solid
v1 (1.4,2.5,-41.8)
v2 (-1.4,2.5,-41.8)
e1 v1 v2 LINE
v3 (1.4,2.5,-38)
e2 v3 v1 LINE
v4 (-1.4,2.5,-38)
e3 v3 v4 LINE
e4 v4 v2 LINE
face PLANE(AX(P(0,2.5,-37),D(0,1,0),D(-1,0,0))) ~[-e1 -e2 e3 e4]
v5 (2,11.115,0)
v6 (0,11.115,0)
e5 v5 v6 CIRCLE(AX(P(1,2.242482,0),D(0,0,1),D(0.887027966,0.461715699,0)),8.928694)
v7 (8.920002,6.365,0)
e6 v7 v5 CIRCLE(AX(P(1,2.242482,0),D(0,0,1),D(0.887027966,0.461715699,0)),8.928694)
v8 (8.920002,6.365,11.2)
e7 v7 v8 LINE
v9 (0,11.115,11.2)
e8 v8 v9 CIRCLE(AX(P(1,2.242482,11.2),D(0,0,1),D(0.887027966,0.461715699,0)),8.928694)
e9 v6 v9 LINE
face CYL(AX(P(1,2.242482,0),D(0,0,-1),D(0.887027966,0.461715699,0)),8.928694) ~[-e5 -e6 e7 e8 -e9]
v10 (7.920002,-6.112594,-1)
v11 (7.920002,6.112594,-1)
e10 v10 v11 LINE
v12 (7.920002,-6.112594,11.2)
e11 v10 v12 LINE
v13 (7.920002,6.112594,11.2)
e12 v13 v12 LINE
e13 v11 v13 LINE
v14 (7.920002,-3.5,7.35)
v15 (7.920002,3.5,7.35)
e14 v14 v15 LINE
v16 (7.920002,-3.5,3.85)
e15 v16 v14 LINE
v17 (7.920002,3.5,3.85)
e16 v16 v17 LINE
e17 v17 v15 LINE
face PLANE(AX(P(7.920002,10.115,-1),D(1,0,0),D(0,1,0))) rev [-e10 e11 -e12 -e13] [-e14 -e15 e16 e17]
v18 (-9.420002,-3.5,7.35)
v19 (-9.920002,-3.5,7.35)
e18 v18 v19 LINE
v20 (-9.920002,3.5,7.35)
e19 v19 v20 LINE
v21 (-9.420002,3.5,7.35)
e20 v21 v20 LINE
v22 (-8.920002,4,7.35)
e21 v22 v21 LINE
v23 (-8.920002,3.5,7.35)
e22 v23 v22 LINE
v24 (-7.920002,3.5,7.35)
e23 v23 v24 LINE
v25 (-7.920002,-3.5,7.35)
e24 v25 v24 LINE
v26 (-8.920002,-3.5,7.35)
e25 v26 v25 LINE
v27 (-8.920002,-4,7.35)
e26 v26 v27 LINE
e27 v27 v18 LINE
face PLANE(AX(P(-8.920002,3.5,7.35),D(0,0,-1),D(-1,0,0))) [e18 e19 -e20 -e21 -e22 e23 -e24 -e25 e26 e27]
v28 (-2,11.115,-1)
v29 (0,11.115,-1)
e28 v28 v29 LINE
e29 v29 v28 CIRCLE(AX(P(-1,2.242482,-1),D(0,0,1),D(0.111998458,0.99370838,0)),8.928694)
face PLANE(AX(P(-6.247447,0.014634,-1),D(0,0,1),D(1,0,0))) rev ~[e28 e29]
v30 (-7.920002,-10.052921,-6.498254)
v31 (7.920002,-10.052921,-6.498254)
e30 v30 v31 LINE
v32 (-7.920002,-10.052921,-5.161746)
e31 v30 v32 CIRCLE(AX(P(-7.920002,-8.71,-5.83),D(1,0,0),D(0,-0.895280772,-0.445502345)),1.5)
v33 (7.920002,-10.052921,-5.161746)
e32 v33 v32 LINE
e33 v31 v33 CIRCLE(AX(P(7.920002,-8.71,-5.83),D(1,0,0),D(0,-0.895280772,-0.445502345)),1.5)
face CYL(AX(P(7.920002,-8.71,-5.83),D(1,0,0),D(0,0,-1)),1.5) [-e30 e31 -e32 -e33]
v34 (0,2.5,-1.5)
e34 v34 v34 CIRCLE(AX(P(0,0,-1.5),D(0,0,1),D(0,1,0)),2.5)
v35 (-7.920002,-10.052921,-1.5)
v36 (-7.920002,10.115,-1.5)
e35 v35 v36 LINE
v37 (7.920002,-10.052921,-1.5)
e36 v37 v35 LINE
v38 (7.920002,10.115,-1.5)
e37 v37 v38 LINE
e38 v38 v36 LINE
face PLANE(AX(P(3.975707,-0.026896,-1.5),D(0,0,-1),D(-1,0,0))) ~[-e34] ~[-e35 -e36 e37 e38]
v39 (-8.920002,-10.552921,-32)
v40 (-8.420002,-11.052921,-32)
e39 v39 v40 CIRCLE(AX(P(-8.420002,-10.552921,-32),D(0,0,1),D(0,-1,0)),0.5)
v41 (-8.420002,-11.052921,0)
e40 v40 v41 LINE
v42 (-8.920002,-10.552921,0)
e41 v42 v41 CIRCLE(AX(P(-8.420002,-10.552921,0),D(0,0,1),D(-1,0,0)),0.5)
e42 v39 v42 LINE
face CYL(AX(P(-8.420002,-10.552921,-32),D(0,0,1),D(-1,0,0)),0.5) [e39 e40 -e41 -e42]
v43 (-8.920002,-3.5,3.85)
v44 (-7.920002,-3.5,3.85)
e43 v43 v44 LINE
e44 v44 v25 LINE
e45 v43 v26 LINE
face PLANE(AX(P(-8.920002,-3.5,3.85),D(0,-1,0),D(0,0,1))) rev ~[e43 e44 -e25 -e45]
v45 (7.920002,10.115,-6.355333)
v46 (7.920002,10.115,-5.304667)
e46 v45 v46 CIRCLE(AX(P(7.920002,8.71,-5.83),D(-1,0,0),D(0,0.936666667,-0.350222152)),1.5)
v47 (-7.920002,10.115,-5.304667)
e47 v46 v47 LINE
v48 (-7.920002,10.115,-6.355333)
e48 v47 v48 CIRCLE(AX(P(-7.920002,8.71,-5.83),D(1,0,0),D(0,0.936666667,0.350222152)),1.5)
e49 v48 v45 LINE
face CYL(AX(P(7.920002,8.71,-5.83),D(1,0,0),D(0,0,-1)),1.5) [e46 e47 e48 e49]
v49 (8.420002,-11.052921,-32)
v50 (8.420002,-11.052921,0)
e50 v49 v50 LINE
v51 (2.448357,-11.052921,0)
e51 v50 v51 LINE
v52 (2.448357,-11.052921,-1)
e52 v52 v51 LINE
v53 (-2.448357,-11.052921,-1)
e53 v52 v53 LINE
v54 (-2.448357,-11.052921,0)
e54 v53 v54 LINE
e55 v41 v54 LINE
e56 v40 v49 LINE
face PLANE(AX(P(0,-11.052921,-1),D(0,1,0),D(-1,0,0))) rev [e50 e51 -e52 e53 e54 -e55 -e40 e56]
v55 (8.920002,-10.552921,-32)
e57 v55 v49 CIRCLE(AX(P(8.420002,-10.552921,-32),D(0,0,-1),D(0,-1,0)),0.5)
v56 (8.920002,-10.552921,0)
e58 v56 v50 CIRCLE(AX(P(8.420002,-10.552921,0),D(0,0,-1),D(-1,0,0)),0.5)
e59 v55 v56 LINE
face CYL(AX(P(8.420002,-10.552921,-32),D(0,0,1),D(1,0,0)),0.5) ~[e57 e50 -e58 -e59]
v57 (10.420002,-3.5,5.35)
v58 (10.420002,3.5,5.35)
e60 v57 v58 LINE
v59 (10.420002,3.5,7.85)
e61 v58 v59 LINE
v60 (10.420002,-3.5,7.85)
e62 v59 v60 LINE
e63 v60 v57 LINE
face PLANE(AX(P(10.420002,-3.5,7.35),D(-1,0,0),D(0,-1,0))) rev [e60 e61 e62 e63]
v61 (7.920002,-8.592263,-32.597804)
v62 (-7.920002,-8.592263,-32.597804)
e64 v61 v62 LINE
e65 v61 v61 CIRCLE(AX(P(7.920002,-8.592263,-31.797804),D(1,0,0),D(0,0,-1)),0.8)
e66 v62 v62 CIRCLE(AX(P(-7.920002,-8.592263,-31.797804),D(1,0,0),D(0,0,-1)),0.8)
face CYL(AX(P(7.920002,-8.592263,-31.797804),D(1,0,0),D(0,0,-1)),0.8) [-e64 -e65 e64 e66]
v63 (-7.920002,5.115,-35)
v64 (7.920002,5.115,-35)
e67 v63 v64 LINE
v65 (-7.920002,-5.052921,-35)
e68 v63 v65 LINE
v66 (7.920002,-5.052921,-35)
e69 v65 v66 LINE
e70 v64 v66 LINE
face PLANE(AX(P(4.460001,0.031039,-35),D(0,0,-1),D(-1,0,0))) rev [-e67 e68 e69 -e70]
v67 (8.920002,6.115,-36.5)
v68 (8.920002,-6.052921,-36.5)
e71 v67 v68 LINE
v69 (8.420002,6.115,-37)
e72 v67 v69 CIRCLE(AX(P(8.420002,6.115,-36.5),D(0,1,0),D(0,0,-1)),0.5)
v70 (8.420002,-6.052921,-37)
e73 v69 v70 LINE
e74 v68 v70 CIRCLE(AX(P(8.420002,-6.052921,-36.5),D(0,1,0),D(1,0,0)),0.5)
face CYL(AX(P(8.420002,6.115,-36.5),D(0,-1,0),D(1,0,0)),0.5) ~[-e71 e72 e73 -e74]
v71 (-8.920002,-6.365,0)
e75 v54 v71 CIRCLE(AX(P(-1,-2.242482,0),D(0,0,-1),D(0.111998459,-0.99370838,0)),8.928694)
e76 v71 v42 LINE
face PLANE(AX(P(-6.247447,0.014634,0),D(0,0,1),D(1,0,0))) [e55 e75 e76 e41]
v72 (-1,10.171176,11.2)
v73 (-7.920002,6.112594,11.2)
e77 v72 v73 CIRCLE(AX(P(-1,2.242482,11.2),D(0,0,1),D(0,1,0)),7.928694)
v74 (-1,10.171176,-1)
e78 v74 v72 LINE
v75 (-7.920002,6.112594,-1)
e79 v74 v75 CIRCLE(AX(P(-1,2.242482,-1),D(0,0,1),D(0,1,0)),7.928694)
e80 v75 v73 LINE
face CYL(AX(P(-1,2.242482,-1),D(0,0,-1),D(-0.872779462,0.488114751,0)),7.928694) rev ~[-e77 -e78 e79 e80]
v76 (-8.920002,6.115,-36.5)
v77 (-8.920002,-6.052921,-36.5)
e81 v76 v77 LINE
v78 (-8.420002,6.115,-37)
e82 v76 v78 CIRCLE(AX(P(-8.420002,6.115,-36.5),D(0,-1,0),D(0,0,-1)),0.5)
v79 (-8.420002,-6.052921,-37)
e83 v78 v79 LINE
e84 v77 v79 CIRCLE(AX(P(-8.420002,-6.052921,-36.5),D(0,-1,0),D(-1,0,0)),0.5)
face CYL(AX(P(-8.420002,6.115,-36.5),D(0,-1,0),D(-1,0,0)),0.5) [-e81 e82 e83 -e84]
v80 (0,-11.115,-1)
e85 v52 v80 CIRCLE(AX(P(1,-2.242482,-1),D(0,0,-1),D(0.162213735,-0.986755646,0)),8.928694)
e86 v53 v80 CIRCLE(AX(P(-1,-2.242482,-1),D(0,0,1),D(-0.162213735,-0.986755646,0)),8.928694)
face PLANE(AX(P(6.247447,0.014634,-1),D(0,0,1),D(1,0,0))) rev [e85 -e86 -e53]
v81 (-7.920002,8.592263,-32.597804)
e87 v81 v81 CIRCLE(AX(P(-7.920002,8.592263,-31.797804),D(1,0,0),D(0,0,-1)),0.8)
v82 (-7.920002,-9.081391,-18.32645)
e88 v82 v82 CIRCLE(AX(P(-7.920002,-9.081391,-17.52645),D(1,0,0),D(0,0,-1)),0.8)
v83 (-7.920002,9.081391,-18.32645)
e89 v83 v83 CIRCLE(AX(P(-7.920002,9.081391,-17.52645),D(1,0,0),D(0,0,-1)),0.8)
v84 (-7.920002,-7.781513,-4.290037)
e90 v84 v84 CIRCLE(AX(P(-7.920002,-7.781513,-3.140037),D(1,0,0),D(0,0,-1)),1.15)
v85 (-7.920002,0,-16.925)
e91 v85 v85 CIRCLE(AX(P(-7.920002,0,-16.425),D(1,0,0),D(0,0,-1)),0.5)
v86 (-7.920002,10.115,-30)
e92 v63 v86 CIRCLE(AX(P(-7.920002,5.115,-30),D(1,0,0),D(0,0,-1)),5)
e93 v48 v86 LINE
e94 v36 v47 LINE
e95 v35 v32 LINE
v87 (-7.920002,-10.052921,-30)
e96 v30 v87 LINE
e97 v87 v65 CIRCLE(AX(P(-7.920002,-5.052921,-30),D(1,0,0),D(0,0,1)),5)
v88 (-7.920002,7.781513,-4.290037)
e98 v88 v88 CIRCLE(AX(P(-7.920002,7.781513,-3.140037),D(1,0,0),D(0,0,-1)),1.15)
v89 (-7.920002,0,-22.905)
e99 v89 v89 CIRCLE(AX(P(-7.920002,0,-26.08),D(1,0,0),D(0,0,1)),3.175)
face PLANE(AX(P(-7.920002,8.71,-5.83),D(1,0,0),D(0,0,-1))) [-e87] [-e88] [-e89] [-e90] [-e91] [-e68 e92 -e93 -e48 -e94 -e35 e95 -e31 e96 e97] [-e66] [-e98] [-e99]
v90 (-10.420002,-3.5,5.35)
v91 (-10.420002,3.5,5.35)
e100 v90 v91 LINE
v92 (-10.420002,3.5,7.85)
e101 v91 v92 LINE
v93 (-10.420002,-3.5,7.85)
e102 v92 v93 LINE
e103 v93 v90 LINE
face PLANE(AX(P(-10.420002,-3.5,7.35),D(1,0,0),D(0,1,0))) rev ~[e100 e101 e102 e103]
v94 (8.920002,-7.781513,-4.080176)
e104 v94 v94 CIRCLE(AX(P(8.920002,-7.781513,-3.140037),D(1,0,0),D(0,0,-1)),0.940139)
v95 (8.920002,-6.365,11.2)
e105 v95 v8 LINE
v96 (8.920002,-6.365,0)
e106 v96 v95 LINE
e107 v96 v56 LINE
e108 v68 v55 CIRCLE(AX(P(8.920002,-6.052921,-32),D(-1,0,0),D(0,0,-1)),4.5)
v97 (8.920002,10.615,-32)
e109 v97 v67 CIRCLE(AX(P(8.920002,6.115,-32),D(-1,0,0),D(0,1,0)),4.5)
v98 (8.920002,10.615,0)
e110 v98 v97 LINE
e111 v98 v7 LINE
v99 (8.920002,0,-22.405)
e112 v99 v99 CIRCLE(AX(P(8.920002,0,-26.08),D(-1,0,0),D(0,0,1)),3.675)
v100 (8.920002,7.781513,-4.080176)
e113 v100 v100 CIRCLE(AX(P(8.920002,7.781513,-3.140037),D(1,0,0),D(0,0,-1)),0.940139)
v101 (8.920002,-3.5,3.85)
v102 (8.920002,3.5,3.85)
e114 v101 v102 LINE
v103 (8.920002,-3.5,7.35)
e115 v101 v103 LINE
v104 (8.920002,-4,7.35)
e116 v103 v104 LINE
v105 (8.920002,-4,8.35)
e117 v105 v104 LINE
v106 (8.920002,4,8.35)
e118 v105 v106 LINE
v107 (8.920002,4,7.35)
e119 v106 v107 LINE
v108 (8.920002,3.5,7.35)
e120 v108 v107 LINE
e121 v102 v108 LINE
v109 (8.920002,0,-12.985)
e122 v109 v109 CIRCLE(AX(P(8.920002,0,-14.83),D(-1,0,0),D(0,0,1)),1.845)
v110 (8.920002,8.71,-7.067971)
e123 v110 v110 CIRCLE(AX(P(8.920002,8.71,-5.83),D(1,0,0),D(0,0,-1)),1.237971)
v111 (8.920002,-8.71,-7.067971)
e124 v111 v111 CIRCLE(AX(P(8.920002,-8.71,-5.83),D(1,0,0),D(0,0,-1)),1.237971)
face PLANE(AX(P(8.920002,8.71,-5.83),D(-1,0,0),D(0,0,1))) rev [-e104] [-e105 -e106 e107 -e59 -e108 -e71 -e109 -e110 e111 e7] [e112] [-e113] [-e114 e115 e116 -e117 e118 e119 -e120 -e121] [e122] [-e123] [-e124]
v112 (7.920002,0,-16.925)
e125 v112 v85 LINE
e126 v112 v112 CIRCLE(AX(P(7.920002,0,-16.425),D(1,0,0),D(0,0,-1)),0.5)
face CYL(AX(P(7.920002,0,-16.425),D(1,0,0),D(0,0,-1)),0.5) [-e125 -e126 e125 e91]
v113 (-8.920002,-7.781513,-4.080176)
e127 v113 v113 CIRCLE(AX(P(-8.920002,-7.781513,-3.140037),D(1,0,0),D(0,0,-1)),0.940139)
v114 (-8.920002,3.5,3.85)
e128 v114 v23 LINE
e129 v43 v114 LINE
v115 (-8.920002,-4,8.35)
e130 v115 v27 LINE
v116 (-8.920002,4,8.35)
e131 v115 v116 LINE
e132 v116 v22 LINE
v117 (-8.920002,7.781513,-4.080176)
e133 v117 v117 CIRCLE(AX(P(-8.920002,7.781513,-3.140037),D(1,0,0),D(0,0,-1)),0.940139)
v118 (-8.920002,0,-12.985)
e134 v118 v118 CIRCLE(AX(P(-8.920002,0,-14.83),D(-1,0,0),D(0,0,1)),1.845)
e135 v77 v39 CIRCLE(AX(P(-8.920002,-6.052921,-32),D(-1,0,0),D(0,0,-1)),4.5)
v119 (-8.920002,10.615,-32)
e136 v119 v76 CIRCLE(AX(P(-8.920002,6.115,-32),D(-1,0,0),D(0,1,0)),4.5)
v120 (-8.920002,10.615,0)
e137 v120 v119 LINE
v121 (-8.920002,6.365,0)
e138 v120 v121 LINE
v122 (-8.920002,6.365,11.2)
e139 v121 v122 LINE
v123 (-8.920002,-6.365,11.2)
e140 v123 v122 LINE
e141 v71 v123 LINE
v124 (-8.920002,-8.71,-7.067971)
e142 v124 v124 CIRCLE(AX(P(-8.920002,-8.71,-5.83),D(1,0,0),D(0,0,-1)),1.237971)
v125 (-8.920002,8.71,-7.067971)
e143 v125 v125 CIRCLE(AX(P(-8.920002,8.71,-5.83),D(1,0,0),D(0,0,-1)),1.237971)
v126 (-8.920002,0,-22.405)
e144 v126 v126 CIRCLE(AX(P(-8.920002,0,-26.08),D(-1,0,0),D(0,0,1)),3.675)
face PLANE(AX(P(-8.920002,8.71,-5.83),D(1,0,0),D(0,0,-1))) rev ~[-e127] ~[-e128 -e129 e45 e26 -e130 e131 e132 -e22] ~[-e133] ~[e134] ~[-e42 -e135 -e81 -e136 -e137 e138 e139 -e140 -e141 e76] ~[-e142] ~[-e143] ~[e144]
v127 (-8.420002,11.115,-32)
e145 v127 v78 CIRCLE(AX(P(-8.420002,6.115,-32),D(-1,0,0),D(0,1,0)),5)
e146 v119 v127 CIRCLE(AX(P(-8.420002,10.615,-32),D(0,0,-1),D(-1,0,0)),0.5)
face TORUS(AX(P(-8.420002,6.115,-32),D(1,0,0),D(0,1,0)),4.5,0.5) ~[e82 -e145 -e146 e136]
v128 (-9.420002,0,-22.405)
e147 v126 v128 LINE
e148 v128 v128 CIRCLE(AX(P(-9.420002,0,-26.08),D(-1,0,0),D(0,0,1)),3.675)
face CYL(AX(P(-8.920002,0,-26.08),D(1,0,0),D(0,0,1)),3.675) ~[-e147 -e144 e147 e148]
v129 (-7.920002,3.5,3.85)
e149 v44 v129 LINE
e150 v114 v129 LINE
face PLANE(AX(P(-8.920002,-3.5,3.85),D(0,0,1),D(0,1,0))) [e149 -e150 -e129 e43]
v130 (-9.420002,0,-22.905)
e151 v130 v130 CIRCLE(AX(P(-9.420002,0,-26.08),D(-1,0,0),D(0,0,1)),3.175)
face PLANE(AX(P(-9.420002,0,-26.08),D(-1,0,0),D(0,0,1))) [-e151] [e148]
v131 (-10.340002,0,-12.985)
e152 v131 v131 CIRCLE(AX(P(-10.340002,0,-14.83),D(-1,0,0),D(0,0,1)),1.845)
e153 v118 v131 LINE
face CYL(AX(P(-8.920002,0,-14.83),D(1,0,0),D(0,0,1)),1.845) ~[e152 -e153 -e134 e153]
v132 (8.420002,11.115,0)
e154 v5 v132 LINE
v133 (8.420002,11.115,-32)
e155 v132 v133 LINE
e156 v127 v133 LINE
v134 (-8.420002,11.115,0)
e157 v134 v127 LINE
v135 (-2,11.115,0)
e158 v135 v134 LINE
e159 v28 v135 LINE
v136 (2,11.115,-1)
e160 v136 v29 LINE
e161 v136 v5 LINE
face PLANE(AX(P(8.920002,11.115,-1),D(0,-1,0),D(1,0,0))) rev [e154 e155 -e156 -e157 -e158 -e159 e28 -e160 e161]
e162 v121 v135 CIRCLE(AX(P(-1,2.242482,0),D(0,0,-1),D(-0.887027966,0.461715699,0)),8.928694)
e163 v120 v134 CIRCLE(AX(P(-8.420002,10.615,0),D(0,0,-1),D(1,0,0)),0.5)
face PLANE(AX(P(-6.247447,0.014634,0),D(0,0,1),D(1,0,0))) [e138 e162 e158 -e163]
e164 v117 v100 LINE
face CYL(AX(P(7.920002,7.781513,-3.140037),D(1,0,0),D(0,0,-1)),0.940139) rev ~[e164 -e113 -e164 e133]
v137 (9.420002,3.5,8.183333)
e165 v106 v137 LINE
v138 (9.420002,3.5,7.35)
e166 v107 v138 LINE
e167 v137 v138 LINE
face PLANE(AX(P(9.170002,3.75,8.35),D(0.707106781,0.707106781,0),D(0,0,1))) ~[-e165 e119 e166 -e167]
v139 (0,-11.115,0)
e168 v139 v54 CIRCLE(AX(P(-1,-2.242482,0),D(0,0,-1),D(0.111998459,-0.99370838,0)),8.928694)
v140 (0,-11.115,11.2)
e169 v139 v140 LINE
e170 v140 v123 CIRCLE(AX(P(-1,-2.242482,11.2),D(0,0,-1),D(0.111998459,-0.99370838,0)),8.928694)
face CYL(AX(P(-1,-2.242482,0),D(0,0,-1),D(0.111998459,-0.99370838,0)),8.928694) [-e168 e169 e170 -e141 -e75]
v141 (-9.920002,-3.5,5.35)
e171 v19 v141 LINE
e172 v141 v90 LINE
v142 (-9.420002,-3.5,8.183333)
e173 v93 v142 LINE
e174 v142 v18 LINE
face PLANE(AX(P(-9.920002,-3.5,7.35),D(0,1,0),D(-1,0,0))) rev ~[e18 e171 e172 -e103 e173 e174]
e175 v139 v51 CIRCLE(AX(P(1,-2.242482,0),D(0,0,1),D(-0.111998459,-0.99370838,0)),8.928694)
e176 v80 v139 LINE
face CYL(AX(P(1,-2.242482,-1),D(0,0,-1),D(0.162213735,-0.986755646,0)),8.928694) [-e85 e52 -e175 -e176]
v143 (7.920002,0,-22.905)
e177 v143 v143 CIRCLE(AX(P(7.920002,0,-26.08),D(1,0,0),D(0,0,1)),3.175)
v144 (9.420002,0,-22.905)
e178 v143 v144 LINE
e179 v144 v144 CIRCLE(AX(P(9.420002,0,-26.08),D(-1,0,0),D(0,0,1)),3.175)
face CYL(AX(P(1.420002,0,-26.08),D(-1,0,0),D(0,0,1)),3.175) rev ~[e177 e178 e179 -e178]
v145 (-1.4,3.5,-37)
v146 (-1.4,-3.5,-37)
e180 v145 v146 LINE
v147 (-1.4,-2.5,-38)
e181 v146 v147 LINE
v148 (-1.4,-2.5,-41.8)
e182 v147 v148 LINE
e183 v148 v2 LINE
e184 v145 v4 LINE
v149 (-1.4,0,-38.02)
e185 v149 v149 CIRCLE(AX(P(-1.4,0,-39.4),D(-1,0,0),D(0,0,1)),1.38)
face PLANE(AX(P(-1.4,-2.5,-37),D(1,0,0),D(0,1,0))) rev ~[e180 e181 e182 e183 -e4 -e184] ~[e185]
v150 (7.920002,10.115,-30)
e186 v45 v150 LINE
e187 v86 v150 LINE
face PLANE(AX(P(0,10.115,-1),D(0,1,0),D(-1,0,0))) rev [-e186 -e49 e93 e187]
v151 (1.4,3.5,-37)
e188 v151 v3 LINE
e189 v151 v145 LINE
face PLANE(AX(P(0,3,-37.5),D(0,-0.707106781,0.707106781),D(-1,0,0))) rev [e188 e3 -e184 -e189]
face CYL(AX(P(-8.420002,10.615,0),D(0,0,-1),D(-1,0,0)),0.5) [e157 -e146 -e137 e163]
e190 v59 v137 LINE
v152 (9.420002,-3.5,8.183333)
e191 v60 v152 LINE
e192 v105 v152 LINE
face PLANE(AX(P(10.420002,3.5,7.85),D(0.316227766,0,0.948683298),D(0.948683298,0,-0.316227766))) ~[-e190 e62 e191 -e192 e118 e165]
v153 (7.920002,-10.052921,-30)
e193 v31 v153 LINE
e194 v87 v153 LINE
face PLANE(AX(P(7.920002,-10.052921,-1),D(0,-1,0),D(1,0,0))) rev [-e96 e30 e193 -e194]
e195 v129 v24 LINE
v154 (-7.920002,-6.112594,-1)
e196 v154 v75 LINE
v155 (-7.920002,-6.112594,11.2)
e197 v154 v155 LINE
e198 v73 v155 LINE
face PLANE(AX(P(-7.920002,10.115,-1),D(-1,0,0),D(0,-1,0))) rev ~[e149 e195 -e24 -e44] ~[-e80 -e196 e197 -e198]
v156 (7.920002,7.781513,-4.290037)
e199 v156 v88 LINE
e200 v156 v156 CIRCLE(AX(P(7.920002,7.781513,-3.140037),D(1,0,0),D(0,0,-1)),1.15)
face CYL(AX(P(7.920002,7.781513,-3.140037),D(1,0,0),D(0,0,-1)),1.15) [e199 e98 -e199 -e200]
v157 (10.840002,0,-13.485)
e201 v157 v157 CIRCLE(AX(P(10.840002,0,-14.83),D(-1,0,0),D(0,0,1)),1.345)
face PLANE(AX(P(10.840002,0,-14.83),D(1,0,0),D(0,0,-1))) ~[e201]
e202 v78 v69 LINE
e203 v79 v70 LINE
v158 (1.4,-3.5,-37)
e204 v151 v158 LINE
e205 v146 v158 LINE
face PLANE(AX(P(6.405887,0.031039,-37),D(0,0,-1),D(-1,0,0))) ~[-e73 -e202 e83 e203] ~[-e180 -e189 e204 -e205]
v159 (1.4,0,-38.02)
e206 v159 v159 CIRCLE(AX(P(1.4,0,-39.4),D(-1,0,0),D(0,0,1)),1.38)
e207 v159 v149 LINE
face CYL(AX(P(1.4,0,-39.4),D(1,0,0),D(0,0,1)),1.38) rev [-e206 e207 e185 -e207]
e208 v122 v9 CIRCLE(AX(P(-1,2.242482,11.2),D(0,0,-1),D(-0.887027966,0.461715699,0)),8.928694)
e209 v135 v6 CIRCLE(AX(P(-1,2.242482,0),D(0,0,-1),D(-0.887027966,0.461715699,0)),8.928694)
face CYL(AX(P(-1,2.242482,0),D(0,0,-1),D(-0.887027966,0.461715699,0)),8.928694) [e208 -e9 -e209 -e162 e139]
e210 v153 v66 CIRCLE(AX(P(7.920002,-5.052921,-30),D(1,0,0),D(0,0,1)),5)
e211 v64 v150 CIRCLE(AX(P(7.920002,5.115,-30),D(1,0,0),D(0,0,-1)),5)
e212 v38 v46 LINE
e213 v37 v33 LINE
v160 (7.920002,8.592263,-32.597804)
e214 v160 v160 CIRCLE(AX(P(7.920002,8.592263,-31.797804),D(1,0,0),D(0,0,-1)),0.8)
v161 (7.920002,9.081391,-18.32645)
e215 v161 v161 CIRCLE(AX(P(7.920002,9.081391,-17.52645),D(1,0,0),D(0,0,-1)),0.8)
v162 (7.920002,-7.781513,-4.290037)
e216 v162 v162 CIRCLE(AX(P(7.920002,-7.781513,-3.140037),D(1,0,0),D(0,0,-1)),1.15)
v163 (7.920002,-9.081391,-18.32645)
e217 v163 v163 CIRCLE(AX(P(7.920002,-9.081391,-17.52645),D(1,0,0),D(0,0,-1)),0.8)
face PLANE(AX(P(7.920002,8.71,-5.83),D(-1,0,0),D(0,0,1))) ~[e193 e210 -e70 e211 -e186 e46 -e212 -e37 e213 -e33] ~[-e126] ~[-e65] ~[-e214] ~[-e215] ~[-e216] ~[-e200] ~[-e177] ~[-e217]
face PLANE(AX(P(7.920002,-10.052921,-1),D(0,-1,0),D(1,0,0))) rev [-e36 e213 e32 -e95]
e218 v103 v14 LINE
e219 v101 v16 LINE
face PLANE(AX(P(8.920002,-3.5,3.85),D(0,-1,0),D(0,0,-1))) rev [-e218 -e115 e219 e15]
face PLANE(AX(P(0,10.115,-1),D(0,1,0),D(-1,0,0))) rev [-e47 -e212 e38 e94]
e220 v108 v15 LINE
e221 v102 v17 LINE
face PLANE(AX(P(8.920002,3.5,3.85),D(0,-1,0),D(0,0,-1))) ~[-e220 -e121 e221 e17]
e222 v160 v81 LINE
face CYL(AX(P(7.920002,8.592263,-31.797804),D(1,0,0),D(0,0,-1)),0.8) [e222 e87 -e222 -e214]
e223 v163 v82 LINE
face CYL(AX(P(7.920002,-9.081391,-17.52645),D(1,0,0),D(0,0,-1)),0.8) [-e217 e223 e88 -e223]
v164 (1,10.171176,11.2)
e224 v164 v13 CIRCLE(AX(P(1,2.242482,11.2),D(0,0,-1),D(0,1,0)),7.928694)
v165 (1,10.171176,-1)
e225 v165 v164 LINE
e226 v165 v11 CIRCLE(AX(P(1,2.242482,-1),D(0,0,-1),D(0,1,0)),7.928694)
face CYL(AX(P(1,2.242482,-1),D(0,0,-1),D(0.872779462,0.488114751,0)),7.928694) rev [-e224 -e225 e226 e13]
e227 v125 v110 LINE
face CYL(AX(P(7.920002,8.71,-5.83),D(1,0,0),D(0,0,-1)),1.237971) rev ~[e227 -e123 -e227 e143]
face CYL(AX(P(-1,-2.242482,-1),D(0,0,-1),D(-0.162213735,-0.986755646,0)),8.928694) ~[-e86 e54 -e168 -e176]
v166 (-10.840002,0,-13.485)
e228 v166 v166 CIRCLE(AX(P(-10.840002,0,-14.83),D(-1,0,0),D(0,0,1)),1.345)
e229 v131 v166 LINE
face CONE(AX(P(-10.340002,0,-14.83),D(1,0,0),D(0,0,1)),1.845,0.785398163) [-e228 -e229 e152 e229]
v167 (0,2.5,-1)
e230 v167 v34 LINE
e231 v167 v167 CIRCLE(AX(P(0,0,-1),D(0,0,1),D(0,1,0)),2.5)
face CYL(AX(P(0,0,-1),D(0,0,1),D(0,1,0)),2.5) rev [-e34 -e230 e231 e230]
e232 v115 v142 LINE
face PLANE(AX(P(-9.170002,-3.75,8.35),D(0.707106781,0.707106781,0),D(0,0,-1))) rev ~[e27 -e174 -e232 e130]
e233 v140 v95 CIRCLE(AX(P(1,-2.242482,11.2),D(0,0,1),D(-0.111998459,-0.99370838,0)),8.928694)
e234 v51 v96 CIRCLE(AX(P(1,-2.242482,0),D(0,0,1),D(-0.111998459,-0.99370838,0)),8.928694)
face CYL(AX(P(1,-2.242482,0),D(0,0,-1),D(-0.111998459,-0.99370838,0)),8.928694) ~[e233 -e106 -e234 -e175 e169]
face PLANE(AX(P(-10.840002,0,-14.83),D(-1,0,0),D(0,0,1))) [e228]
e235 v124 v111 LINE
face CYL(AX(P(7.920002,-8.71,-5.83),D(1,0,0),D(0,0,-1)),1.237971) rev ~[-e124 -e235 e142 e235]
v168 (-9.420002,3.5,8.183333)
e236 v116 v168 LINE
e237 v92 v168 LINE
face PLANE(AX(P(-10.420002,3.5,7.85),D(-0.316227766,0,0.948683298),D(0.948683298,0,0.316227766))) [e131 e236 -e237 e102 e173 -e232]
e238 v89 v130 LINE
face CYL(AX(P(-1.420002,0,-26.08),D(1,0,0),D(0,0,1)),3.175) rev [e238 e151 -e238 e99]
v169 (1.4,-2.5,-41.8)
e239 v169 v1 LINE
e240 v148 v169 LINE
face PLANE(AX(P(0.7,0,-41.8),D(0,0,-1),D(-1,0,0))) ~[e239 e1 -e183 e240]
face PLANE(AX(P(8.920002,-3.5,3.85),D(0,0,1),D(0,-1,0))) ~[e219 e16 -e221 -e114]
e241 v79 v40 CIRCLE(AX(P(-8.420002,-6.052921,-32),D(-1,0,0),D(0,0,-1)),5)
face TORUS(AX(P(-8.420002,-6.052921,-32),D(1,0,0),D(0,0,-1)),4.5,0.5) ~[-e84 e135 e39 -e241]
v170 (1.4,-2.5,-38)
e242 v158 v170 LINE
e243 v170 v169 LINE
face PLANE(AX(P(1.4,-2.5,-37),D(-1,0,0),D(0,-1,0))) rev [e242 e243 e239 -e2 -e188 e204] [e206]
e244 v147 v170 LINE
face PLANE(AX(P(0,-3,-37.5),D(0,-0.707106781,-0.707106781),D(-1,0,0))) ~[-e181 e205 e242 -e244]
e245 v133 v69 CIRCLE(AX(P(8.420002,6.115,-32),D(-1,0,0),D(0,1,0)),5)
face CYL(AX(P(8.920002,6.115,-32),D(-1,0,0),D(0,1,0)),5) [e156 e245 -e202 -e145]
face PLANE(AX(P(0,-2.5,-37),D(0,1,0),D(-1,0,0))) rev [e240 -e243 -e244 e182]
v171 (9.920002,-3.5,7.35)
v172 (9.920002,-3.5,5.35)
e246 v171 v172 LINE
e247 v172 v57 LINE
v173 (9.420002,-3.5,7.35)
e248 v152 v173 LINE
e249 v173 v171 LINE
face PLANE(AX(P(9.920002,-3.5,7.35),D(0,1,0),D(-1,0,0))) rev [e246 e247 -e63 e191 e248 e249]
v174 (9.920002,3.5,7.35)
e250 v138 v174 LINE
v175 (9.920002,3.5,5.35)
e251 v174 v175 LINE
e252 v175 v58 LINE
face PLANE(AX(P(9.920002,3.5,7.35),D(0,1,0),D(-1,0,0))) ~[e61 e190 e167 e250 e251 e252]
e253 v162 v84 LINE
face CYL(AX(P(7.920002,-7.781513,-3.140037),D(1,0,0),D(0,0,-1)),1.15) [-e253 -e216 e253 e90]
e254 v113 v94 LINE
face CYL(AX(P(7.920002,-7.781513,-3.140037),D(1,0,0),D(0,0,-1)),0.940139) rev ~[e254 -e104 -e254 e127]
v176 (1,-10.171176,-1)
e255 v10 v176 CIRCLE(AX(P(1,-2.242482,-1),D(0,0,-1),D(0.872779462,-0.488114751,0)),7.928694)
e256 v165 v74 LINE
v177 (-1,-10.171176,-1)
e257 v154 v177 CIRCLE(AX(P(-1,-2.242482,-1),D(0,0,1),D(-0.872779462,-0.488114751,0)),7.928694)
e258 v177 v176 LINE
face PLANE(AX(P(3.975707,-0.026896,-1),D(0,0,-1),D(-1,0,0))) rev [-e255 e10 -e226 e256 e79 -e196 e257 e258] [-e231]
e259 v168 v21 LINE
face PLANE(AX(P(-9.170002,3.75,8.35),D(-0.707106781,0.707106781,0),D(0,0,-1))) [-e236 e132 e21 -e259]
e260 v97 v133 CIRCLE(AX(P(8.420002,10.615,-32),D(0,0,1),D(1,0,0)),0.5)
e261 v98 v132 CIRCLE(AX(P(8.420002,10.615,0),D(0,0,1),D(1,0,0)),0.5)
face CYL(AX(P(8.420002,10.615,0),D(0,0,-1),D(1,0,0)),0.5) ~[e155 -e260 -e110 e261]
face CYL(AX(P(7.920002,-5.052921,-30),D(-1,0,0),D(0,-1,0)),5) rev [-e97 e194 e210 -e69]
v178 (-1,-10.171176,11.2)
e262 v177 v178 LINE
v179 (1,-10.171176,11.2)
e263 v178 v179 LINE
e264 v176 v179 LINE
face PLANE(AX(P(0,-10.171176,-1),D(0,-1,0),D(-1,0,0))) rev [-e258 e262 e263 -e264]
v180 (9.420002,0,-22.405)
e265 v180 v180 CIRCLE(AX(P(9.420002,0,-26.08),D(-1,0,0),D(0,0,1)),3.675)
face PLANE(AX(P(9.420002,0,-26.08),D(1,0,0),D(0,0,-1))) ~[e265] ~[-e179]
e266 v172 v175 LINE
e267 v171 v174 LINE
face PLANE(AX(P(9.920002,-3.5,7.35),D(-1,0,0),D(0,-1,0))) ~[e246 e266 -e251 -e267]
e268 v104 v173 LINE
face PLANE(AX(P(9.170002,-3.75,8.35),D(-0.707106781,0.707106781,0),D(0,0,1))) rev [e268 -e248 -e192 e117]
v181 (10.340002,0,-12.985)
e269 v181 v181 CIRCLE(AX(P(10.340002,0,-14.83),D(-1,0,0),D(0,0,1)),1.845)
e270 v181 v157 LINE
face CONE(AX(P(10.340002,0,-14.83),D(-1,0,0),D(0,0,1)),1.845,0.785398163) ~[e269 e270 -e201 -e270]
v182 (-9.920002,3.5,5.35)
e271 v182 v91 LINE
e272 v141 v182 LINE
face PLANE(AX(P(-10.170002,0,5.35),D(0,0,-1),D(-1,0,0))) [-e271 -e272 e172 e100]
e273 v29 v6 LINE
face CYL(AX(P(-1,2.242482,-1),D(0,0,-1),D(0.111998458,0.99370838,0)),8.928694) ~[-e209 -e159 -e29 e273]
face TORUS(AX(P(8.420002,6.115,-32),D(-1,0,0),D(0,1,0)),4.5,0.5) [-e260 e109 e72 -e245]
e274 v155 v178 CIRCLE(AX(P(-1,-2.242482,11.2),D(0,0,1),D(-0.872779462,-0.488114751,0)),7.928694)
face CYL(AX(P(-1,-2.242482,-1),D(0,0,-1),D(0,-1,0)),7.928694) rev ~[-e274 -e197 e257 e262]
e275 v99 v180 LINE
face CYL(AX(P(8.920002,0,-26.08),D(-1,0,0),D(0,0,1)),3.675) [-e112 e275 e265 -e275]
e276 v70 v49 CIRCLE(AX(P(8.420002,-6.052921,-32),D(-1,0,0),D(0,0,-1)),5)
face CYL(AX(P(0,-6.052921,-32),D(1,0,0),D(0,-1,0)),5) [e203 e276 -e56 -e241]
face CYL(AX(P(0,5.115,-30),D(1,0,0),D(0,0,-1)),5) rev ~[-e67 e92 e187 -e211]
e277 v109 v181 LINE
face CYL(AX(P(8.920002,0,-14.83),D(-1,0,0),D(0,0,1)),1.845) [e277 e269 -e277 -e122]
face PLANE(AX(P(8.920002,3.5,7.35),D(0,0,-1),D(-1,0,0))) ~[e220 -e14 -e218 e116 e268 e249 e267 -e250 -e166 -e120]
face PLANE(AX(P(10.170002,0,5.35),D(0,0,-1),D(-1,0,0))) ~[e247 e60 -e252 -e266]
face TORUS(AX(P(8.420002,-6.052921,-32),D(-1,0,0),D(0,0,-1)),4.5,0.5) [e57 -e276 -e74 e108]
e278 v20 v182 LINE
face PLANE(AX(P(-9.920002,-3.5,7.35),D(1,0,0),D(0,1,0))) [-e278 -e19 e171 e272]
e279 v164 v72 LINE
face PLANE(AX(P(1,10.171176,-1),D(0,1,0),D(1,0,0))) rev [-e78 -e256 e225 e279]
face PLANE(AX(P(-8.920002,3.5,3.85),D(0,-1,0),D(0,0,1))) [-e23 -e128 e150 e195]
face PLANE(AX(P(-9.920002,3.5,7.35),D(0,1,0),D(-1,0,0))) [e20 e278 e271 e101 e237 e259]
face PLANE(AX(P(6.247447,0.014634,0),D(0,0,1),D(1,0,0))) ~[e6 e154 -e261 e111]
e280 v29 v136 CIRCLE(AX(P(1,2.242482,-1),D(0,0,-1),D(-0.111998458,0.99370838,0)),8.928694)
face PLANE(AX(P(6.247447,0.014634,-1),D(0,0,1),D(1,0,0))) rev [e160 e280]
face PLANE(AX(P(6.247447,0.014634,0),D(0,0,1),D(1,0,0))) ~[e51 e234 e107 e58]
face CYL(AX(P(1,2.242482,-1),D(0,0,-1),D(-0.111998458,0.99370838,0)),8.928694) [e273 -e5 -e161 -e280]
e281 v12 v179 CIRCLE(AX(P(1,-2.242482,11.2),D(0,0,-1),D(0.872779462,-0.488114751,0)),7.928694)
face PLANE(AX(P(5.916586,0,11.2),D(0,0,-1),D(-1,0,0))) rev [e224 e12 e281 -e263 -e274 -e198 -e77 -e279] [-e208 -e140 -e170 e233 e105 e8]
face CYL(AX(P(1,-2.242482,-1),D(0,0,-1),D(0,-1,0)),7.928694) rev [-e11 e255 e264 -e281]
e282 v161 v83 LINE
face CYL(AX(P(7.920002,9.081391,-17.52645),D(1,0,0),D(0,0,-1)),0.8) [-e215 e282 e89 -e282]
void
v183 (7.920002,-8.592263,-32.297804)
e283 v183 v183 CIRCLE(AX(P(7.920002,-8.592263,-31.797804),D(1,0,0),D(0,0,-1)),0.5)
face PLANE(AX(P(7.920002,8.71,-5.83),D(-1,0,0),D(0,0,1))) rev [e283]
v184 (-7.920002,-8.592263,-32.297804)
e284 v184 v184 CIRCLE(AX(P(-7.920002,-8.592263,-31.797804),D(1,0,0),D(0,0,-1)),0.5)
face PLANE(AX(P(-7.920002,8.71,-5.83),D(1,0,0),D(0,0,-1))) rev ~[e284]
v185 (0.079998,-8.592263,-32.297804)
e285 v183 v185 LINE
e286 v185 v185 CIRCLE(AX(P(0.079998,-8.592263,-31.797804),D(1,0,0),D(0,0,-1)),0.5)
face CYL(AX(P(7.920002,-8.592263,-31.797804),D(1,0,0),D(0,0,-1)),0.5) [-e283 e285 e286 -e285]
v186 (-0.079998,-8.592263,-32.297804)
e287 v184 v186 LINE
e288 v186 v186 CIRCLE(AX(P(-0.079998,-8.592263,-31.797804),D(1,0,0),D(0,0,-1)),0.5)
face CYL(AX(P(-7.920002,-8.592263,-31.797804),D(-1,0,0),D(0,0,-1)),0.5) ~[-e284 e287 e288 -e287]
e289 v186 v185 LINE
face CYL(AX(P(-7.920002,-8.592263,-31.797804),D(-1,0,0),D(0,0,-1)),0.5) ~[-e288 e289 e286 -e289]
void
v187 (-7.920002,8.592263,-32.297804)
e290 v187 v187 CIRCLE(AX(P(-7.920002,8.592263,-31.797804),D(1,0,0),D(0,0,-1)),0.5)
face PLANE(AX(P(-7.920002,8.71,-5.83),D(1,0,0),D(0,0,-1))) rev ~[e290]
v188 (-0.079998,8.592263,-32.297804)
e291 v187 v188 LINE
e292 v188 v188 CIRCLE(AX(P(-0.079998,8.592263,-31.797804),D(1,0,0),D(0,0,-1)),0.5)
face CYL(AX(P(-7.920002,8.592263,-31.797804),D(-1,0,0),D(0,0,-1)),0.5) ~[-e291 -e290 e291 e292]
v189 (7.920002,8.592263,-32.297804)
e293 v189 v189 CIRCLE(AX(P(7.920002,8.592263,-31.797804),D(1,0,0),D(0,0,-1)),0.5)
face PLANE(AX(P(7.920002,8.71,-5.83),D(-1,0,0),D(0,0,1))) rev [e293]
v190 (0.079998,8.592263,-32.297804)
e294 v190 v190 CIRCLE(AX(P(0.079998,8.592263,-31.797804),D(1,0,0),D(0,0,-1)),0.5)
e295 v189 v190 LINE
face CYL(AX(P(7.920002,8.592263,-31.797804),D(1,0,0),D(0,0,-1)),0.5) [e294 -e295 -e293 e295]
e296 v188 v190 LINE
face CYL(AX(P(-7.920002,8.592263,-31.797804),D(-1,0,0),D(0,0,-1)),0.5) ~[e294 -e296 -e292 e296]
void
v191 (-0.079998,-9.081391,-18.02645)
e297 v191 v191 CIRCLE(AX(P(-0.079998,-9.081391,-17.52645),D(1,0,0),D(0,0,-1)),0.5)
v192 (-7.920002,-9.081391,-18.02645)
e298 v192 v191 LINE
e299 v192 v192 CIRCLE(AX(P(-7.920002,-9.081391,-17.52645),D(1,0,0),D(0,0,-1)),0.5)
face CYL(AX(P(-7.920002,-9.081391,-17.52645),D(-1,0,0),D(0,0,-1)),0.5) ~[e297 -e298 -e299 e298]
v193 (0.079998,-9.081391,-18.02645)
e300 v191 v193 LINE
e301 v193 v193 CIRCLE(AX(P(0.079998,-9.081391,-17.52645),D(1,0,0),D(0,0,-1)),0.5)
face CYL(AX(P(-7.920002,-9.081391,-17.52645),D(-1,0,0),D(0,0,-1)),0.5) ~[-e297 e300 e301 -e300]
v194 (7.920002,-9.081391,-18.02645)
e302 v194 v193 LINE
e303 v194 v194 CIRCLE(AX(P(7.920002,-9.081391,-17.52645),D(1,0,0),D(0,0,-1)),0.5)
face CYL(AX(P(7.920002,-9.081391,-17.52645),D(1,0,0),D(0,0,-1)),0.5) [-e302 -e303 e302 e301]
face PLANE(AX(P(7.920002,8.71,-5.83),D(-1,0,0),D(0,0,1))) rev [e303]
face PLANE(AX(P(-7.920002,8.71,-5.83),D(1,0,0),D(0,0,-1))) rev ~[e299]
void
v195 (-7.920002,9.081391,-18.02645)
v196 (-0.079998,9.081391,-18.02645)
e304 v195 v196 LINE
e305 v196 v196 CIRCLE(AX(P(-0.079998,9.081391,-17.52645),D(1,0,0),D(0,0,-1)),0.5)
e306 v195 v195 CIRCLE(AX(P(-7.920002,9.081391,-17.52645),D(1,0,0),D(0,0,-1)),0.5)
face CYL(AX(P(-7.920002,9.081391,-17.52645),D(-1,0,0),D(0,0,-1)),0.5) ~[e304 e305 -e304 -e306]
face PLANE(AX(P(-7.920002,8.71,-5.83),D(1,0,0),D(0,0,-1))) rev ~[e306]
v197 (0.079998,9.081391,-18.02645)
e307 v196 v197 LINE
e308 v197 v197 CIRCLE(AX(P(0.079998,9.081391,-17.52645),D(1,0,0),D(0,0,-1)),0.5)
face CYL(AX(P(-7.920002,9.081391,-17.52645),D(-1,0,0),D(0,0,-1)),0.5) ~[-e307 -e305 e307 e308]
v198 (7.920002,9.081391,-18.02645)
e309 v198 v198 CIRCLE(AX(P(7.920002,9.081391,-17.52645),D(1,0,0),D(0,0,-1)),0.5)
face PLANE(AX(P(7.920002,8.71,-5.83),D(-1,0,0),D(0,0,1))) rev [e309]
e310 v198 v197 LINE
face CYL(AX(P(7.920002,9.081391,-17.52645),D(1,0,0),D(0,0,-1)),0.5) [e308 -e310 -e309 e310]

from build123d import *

# Parameters (mm, degrees)
BOSS_EXTRUDE1_DEPTH  = 11.2
BOSS_EXTRUDE2_START  = 1
BOSS_EXTRUDE2_DEPTH  = 1
BOSS_EXTRUDE4_DEPTH  = 36
SKETCH5_W            = 8.920001513
SKETCH5_H            = 22.167921158
BOSS_EXTRUDE6_DEPTH  = 2
FILLET2_R            = 5
SKETCH6_W            = 1.4
SKETCH6_H            = 5
BOSS_EXTRUDE7_DEPTH  = 4.8
SKETCH7_R            = 1.38
CUT_EXTRUDE1_DEPTH   = 4.8
SKETCH8_R            = 3.675
SKETCH8_R_2          = 3.175
BOSS_EXTRUDE8_DEPTH  = 0.5
CUT_EXTRUDE2_START   = -7.5
SKETCH9_R            = 3.175
CUT_EXTRUDE2_DEPTH   = 7.5
CHAMFER1_SIZE        = 1
SKETCH10_R           = 1.845
BOSS_EXTRUDE9_DEPTH  = 1.92
CHAMFER2_SIZE        = 0.5
SKETCH11_R           = 1.5
CUT_EXTRUDE3_DEPTH   = 1.92
SKETCH12_R           = 1.15
CUT_EXTRUDE4_DEPTH   = 1.92
BOSS_EXTRUDE13_DEPTH = 0.5
SKETCH14_W           = 3.5
SKETCH14_H           = 7
CUT_EXTRUDE6_DEPTH   = 5.5
BOSS_EXTRUDE14_DEPTH = 7
SKETCH16_W           = 0.5
SKETCH16_H           = 7
BOSS_EXTRUDE16_DEPTH = 2
CHAMFER3_SIZE        = 0.5
SKETCH20_R           = 0.5
BOSS_EXTRUDE19_DEPTH = 15
BOSS_EXTRUDE23_START = -1
SKETCH21_R           = 1.5
SKETCH21_R_2         = 1.237971005
SKETCH21_R_3         = 1.15
SKETCH21_R_4         = 0.940138742
BOSS_EXTRUDE23_DEPTH = 1
SKETCH21_2_R         = 1.5
SKETCH21_2_R_2       = 1.237971005
SKETCH21_2_R_3       = 1.15
SKETCH21_2_R_4       = 0.940138742
BOSS_EXTRUDE24_DEPTH = 8
SKETCH22_R           = 0.8
SKETCH22_R_2         = 0.5
BOSS_EXTRUDE25_DEPTH = 8
FILLET4_R            = 0.5


with BuildPart() as part:
    # Sketch1 → Boss-Extrude1 (new body)
    with BuildSketch(Plane.XY):
        with BuildLine():
            Line((0, 11.115), (0, 10.171175948))
            Line((0, 10.171175948), (-1, 10.171175948))
            ThreePointArc((-1, 10.171175948), (-5.011187662, 9.081675078), (-7.920001513, 6.112594314))
            Line((-7.920001513, 6.112594314), (-7.920001513, -6.112594314))
            ThreePointArc((-7.920001513, -6.112594314), (-5.011187662, -9.081675078), (-1, -10.171175948))
            Line((-1, -10.171175948), (0, -10.171175948))
            Line((0, -10.171175948), (0, -11.115))
            ThreePointArc((0, -11.115), (-5.196692773, -10.123430296), (-8.920001513, -6.365))
            Line((-8.920001513, -6.365), (-8.920001513, 6.365))
            ThreePointArc((-8.920001513, 6.365), (-5.196692773, 10.123430296), (0, 11.115))
        make_face()
    extrude(amount=BOSS_EXTRUDE1_DEPTH)

    # Sketch2 → Boss-Extrude2 (add)
    with BuildSketch(Plane(origin=(0, 0, 0), x_dir=(-1, 0, 0), z_dir=(0, 0, -1)).offset(BOSS_EXTRUDE2_START)):
        with BuildLine():
            Line((2, 11.115), (8.920001513, 11.115))
            Line((8.920001513, 11.115), (8.920001513, -11.052921158))
            Line((8.920001513, -11.052921158), (2.44835684, -11.052921158))
            ThreePointArc((2.44835684, -11.052921158), (1.226317056, -11.16830724), (0, -11.115))
            Line((0, -11.115), (0, -10.171175948))
            Line((0, -10.171175948), (1, -10.171175948))
            ThreePointArc((1, -10.171175948), (5.011187662, -9.081675078), (7.920001513, -6.112594314))
            Line((7.920001513, -6.112594314), (7.920001513, 6.112594314))
            ThreePointArc((7.920001513, 6.112594314), (5.011187662, 9.081675078), (1, 10.171175948))
            Line((1, 10.171175948), (0, 10.171175948))
            Line((0, 10.171175948), (0, 11.115))
            ThreePointArc((0, 11.115), (1, 11.171175948), (2, 11.115))
        make_face()
    extrude(amount=-BOSS_EXTRUDE2_DEPTH)

    # Sketch4 → Boss-Extrude4 (add)
    with BuildSketch(Plane(origin=(0, 0, -1), x_dir=(-1, 0, 0), z_dir=(0, 0, -1))):
        Polygon((8.920001513, 11.115), (0, 11.115), (0, 10.115), (1, 10.115), (7.920001513, 10.115), (7.920001513, -10.052921158), (1, -10.052921158), (0, -10.052921158), (0, -11.052921158), (8.920001513, -11.052921158), align=None)
    extrude(amount=BOSS_EXTRUDE4_DEPTH)

    # Sketch5 → Boss-Extrude6 (add)
    with BuildSketch(Plane(origin=(0, 0, -37), x_dir=(-1, 0, 0), z_dir=(0, 0, -1))):
        with Locations((4.460000757, 0.031039421)):
            Rectangle(SKETCH5_W, SKETCH5_H)
    extrude(amount=-BOSS_EXTRUDE6_DEPTH)

    # Fillet2
    fillet2_edges = [part.edges().sort_by_distance(p)[0] for p in [
        (-3.960000757, -10.052921158, -35),
        (-3.960000757, 10.115, -35),
        (-4.460000757, -11.052921158, -37),
        (-4.460000757, 11.115, -37),
    ]]
    fillet(fillet2_edges, radius=FILLET2_R)

    # Sketch6 → Boss-Extrude7 (add)
    with BuildSketch(Plane(origin=(0, 0, -37), x_dir=(-1, 0, 0), z_dir=(0, 0, -1))):
        with Locations((0.7, 0)):
            Rectangle(SKETCH6_W, SKETCH6_H)
    extrude(amount=BOSS_EXTRUDE7_DEPTH)

    # Sketch7 → Cut-Extrude1 (cut)
    with BuildSketch(Plane.ZY.offset(1.4)):
        with Locations((-39.4, 0)):
            Circle(SKETCH7_R)
    extrude(amount=-CUT_EXTRUDE1_DEPTH, mode=Mode.SUBTRACT)

    # Sketch8 → Boss-Extrude8 (add)
    with BuildSketch(Plane.ZY.offset(8.920001513)):
        with Locations((-26.08, 0)):
            Circle(SKETCH8_R)
        with Locations((-26.08, 0)):
            Circle(SKETCH8_R_2, mode=Mode.SUBTRACT)
    extrude(amount=BOSS_EXTRUDE8_DEPTH)

    # Sketch9 → Cut-Extrude2 (cut)
    with BuildSketch(Plane.ZY.offset(8.920001513).offset(CUT_EXTRUDE2_START)):
        with Locations((-26.08, 0)):
            Circle(SKETCH9_R)
    extrude(amount=CUT_EXTRUDE2_DEPTH, mode=Mode.SUBTRACT)

    # Chamfer1
    chamfer1_edges = [part.edges().sort_by_distance(p)[0] for p in [
        (-0.7, -2.5, -37),
        (-0.7, 2.5, -37),
    ]]
    chamfer(chamfer1_edges, length=CHAMFER1_SIZE)

    # Sketch10 → Boss-Extrude9 (add)
    with BuildSketch(Plane.ZY.offset(8.920001513)):
        with Locations((-14.83, 0)):
            Circle(SKETCH10_R)
    extrude(amount=BOSS_EXTRUDE9_DEPTH)

    # Chamfer2
    chamfer2_edges = [part.edges().sort_by_distance(p)[0] for p in [
        (-10.840001513, 0, -16.675),
    ]]
    chamfer(chamfer2_edges, length=CHAMFER2_SIZE)

    # Sketch11 → Cut-Extrude3 (cut)
    with BuildSketch(Plane.ZY.offset(8.920001513)):
        with Locations((-5.83, 8.71)):
            Circle(SKETCH11_R)
        with Locations((-5.83, -8.71)):
            Circle(SKETCH11_R)
    extrude(amount=-CUT_EXTRUDE3_DEPTH, mode=Mode.SUBTRACT)

    # Sketch12 → Cut-Extrude4 (cut)
    with BuildSketch(Plane.ZY.offset(8.920001513)):
        with Locations((-3.140037022, 7.781512681)):
            Circle(SKETCH12_R)
        with Locations((-3.140037022, -7.781512681)):
            Circle(SKETCH12_R)
    extrude(amount=-CUT_EXTRUDE4_DEPTH, mode=Mode.SUBTRACT)

    # Sketch13 → Boss-Extrude13 (add)
    with BuildSketch(Plane(origin=(0, 0, -1), x_dir=(-1, 0, 0), z_dir=(0, 0, -1))):
        with BuildLine():
            Line((7.920001513, 10.115), (0, 10.115))
            Line((0, 10.115), (0, 2.5))
            ThreePointArc((0, 2.5), (2.5, 0), (0, -2.5))
            Line((0, -2.5), (0, -10.115))
            Line((0, -10.115), (0, -10.171175948))
            Line((0, -10.171175948), (0.5, -10.171175948))
            Line((0.5, -10.171175948), (7.920001513, -10.171175948))
            Line((7.920001513, -10.171175948), (7.920001513, 10.115))
        make_face()
    extrude(amount=BOSS_EXTRUDE13_DEPTH)

    # Sketch14 → Cut-Extrude6 (cut)
    with BuildSketch(Plane.ZY.offset(8.920001513)):
        with Locations((5.6, 0)):
            Rectangle(SKETCH14_W, SKETCH14_H)
    extrude(amount=-CUT_EXTRUDE6_DEPTH, mode=Mode.SUBTRACT)

    # Sketch15 → Boss-Extrude14 (add)
    with BuildSketch(Plane.XZ.offset(-3.5)):
        Polygon((-8.920001513, 7.35), (-10.420001513, 7.35), (-10.420001513, 7.85), (-8.920001513, 8.35), align=None)
    extrude(amount=BOSS_EXTRUDE14_DEPTH)

    # Sketch16 → Boss-Extrude16 (add)
    with BuildSketch(Plane(origin=(0, 0, 7.35), x_dir=(-1, 0, 0), z_dir=(0, 0, -1))):
        with Locations((10.170001513, 0)):
            Rectangle(SKETCH16_W, SKETCH16_H)
    extrude(amount=BOSS_EXTRUDE16_DEPTH)

    # Chamfer3
    chamfer3_edges = [part.edges().sort_by_distance(p)[0] for p in [
        (-8.920001513, -3.5, 7.85),
        (-8.920001513, 3.5, 7.85),
    ]]
    chamfer(chamfer3_edges, length=CHAMFER3_SIZE)

    # Sketch20 → Boss-Extrude19 (add)
    with BuildSketch(Plane(origin=(-7.920001513, 0, 0), x_dir=(0, 0, -1), z_dir=(1, 0, 0))):
        with Locations((16.425, 0)):
            Circle(SKETCH20_R)
    extrude(amount=BOSS_EXTRUDE19_DEPTH)

    # Sketch21 → Boss-Extrude23 (add)
    # profile 1 of 4: a face of its own
    with BuildSketch(Plane(origin=(-7.920001513, 0, 0), x_dir=(0, 0, -1), z_dir=(1, 0, 0)).offset(BOSS_EXTRUDE23_START)):
        with Locations((5.83, 8.71)):
            Circle(SKETCH21_R)
        with Locations((5.83, 8.71)):
            Circle(SKETCH21_R_2, mode=Mode.SUBTRACT)
    # profile 2 of 4: a face of its own
    with BuildSketch(Plane(origin=(-7.920001513, 0, 0), x_dir=(0, 0, -1), z_dir=(1, 0, 0)).offset(BOSS_EXTRUDE23_START)):
        with Locations((3.140037022, 7.781512681)):
            Circle(SKETCH21_R_3)
        with Locations((3.140037022, 7.781512681)):
            Circle(SKETCH21_R_4, mode=Mode.SUBTRACT)
    # profile 3 of 4: a face of its own
    with BuildSketch(Plane(origin=(-7.920001513, 0, 0), x_dir=(0, 0, -1), z_dir=(1, 0, 0)).offset(BOSS_EXTRUDE23_START)):
        with Locations((3.140037022, -7.781512681)):
            Circle(SKETCH21_R_3)
        with Locations((3.140037022, -7.781512681)):
            Circle(SKETCH21_R_4, mode=Mode.SUBTRACT)
    # profile 4 of 4: a face of its own
    with BuildSketch(Plane(origin=(-7.920001513, 0, 0), x_dir=(0, 0, -1), z_dir=(1, 0, 0)).offset(BOSS_EXTRUDE23_START)):
        with Locations((5.83, -8.71)):
            Circle(SKETCH21_R)
        with Locations((5.83, -8.71)):
            Circle(SKETCH21_R_2, mode=Mode.SUBTRACT)
    extrude(amount=BOSS_EXTRUDE23_DEPTH)

    # Sketch21<2> → Boss-Extrude24 (add)
    # profile 1 of 4: a face of its own
    with BuildSketch(Plane(origin=(-7.920001513, 0, 0), x_dir=(0, 0, -1), z_dir=(1, 0, 0))):
        with Locations((5.83, 8.71)):
            Circle(SKETCH21_2_R)
        with Locations((5.83, 8.71)):
            Circle(SKETCH21_2_R_2, mode=Mode.SUBTRACT)
    # profile 2 of 4: a face of its own
    with BuildSketch(Plane(origin=(-7.920001513, 0, 0), x_dir=(0, 0, -1), z_dir=(1, 0, 0))):
        with Locations((3.140037022, 7.781512681)):
            Circle(SKETCH21_2_R_3)
        with Locations((3.140037022, 7.781512681)):
            Circle(SKETCH21_2_R_4, mode=Mode.SUBTRACT)
    # profile 3 of 4: a face of its own
    with BuildSketch(Plane(origin=(-7.920001513, 0, 0), x_dir=(0, 0, -1), z_dir=(1, 0, 0))):
        with Locations((3.140037022, -7.781512681)):
            Circle(SKETCH21_2_R_3)
        with Locations((3.140037022, -7.781512681)):
            Circle(SKETCH21_2_R_4, mode=Mode.SUBTRACT)
    # profile 4 of 4: a face of its own
    with BuildSketch(Plane(origin=(-7.920001513, 0, 0), x_dir=(0, 0, -1), z_dir=(1, 0, 0))):
        with Locations((5.83, -8.71)):
            Circle(SKETCH21_2_R)
        with Locations((5.83, -8.71)):
            Circle(SKETCH21_2_R_2, mode=Mode.SUBTRACT)
    extrude(amount=BOSS_EXTRUDE24_DEPTH)

    # Sketch22 → Boss-Extrude25 (add)
    # profile 1 of 4: a face of its own
    with BuildSketch(Plane(origin=(-7.920001513, 0, 0), x_dir=(0, 0, -1), z_dir=(1, 0, 0))):
        with Locations((17.526449978, 9.081390514)):
            Circle(SKETCH22_R)
        with Locations((17.526449978, 9.081390514)):
            Circle(SKETCH22_R_2, mode=Mode.SUBTRACT)
    # profile 2 of 4: a face of its own
    with BuildSketch(Plane(origin=(-7.920001513, 0, 0), x_dir=(0, 0, -1), z_dir=(1, 0, 0))):
        with Locations((31.797803684, 8.592263442)):
            Circle(SKETCH22_R)
        with Locations((31.797803684, 8.592263442)):
            Circle(SKETCH22_R_2, mode=Mode.SUBTRACT)
    # profile 3 of 4: a face of its own
    with BuildSketch(Plane(origin=(-7.920001513, 0, 0), x_dir=(0, 0, -1), z_dir=(1, 0, 0))):
        with Locations((31.797803684, -8.592263442)):
            Circle(SKETCH22_R)
        with Locations((31.797803684, -8.592263442)):
            Circle(SKETCH22_R_2, mode=Mode.SUBTRACT)
    # profile 4 of 4: a face of its own
    with BuildSketch(Plane(origin=(-7.920001513, 0, 0), x_dir=(0, 0, -1), z_dir=(1, 0, 0))):
        with Locations((17.526449978, -9.081390514)):
            Circle(SKETCH22_R)
        with Locations((17.526449978, -9.081390514)):
            Circle(SKETCH22_R_2, mode=Mode.SUBTRACT)
    extrude(amount=BOSS_EXTRUDE25_DEPTH)

    # Mirror7: part across plane


with BuildPart() as part_1:
    add(part.part)
    add(part.part.mirror(Plane(origin=(0, 0, 0), x_dir=(0, 0, 1), z_dir=(1, 0, 0))))

    # Fillet4
    fillet4_edges = [part_1.edges().sort_by_distance(p)[0] for p in [
        (-8.920001513, -11.052921158, -16),
        (-8.920001513, -9.588455064, -35.535533906),
        (-8.920001513, 0.031039421, -37),
        (-8.920001513, 9.650533906, -35.535533906),
        (8.920001513, -11.052921158, -16),
        (8.920001513, -9.588455064, -35.535533906),
        (8.920001513, 0.031039421, -37),
        (8.920001513, 9.650533906, -35.535533906),
        (-8.920001513, 11.115, -16),
        (8.920001513, 11.115, -16),
    ]]
    fillet(fillet4_edges, radius=FILLET4_R)


solid = part_1.part
